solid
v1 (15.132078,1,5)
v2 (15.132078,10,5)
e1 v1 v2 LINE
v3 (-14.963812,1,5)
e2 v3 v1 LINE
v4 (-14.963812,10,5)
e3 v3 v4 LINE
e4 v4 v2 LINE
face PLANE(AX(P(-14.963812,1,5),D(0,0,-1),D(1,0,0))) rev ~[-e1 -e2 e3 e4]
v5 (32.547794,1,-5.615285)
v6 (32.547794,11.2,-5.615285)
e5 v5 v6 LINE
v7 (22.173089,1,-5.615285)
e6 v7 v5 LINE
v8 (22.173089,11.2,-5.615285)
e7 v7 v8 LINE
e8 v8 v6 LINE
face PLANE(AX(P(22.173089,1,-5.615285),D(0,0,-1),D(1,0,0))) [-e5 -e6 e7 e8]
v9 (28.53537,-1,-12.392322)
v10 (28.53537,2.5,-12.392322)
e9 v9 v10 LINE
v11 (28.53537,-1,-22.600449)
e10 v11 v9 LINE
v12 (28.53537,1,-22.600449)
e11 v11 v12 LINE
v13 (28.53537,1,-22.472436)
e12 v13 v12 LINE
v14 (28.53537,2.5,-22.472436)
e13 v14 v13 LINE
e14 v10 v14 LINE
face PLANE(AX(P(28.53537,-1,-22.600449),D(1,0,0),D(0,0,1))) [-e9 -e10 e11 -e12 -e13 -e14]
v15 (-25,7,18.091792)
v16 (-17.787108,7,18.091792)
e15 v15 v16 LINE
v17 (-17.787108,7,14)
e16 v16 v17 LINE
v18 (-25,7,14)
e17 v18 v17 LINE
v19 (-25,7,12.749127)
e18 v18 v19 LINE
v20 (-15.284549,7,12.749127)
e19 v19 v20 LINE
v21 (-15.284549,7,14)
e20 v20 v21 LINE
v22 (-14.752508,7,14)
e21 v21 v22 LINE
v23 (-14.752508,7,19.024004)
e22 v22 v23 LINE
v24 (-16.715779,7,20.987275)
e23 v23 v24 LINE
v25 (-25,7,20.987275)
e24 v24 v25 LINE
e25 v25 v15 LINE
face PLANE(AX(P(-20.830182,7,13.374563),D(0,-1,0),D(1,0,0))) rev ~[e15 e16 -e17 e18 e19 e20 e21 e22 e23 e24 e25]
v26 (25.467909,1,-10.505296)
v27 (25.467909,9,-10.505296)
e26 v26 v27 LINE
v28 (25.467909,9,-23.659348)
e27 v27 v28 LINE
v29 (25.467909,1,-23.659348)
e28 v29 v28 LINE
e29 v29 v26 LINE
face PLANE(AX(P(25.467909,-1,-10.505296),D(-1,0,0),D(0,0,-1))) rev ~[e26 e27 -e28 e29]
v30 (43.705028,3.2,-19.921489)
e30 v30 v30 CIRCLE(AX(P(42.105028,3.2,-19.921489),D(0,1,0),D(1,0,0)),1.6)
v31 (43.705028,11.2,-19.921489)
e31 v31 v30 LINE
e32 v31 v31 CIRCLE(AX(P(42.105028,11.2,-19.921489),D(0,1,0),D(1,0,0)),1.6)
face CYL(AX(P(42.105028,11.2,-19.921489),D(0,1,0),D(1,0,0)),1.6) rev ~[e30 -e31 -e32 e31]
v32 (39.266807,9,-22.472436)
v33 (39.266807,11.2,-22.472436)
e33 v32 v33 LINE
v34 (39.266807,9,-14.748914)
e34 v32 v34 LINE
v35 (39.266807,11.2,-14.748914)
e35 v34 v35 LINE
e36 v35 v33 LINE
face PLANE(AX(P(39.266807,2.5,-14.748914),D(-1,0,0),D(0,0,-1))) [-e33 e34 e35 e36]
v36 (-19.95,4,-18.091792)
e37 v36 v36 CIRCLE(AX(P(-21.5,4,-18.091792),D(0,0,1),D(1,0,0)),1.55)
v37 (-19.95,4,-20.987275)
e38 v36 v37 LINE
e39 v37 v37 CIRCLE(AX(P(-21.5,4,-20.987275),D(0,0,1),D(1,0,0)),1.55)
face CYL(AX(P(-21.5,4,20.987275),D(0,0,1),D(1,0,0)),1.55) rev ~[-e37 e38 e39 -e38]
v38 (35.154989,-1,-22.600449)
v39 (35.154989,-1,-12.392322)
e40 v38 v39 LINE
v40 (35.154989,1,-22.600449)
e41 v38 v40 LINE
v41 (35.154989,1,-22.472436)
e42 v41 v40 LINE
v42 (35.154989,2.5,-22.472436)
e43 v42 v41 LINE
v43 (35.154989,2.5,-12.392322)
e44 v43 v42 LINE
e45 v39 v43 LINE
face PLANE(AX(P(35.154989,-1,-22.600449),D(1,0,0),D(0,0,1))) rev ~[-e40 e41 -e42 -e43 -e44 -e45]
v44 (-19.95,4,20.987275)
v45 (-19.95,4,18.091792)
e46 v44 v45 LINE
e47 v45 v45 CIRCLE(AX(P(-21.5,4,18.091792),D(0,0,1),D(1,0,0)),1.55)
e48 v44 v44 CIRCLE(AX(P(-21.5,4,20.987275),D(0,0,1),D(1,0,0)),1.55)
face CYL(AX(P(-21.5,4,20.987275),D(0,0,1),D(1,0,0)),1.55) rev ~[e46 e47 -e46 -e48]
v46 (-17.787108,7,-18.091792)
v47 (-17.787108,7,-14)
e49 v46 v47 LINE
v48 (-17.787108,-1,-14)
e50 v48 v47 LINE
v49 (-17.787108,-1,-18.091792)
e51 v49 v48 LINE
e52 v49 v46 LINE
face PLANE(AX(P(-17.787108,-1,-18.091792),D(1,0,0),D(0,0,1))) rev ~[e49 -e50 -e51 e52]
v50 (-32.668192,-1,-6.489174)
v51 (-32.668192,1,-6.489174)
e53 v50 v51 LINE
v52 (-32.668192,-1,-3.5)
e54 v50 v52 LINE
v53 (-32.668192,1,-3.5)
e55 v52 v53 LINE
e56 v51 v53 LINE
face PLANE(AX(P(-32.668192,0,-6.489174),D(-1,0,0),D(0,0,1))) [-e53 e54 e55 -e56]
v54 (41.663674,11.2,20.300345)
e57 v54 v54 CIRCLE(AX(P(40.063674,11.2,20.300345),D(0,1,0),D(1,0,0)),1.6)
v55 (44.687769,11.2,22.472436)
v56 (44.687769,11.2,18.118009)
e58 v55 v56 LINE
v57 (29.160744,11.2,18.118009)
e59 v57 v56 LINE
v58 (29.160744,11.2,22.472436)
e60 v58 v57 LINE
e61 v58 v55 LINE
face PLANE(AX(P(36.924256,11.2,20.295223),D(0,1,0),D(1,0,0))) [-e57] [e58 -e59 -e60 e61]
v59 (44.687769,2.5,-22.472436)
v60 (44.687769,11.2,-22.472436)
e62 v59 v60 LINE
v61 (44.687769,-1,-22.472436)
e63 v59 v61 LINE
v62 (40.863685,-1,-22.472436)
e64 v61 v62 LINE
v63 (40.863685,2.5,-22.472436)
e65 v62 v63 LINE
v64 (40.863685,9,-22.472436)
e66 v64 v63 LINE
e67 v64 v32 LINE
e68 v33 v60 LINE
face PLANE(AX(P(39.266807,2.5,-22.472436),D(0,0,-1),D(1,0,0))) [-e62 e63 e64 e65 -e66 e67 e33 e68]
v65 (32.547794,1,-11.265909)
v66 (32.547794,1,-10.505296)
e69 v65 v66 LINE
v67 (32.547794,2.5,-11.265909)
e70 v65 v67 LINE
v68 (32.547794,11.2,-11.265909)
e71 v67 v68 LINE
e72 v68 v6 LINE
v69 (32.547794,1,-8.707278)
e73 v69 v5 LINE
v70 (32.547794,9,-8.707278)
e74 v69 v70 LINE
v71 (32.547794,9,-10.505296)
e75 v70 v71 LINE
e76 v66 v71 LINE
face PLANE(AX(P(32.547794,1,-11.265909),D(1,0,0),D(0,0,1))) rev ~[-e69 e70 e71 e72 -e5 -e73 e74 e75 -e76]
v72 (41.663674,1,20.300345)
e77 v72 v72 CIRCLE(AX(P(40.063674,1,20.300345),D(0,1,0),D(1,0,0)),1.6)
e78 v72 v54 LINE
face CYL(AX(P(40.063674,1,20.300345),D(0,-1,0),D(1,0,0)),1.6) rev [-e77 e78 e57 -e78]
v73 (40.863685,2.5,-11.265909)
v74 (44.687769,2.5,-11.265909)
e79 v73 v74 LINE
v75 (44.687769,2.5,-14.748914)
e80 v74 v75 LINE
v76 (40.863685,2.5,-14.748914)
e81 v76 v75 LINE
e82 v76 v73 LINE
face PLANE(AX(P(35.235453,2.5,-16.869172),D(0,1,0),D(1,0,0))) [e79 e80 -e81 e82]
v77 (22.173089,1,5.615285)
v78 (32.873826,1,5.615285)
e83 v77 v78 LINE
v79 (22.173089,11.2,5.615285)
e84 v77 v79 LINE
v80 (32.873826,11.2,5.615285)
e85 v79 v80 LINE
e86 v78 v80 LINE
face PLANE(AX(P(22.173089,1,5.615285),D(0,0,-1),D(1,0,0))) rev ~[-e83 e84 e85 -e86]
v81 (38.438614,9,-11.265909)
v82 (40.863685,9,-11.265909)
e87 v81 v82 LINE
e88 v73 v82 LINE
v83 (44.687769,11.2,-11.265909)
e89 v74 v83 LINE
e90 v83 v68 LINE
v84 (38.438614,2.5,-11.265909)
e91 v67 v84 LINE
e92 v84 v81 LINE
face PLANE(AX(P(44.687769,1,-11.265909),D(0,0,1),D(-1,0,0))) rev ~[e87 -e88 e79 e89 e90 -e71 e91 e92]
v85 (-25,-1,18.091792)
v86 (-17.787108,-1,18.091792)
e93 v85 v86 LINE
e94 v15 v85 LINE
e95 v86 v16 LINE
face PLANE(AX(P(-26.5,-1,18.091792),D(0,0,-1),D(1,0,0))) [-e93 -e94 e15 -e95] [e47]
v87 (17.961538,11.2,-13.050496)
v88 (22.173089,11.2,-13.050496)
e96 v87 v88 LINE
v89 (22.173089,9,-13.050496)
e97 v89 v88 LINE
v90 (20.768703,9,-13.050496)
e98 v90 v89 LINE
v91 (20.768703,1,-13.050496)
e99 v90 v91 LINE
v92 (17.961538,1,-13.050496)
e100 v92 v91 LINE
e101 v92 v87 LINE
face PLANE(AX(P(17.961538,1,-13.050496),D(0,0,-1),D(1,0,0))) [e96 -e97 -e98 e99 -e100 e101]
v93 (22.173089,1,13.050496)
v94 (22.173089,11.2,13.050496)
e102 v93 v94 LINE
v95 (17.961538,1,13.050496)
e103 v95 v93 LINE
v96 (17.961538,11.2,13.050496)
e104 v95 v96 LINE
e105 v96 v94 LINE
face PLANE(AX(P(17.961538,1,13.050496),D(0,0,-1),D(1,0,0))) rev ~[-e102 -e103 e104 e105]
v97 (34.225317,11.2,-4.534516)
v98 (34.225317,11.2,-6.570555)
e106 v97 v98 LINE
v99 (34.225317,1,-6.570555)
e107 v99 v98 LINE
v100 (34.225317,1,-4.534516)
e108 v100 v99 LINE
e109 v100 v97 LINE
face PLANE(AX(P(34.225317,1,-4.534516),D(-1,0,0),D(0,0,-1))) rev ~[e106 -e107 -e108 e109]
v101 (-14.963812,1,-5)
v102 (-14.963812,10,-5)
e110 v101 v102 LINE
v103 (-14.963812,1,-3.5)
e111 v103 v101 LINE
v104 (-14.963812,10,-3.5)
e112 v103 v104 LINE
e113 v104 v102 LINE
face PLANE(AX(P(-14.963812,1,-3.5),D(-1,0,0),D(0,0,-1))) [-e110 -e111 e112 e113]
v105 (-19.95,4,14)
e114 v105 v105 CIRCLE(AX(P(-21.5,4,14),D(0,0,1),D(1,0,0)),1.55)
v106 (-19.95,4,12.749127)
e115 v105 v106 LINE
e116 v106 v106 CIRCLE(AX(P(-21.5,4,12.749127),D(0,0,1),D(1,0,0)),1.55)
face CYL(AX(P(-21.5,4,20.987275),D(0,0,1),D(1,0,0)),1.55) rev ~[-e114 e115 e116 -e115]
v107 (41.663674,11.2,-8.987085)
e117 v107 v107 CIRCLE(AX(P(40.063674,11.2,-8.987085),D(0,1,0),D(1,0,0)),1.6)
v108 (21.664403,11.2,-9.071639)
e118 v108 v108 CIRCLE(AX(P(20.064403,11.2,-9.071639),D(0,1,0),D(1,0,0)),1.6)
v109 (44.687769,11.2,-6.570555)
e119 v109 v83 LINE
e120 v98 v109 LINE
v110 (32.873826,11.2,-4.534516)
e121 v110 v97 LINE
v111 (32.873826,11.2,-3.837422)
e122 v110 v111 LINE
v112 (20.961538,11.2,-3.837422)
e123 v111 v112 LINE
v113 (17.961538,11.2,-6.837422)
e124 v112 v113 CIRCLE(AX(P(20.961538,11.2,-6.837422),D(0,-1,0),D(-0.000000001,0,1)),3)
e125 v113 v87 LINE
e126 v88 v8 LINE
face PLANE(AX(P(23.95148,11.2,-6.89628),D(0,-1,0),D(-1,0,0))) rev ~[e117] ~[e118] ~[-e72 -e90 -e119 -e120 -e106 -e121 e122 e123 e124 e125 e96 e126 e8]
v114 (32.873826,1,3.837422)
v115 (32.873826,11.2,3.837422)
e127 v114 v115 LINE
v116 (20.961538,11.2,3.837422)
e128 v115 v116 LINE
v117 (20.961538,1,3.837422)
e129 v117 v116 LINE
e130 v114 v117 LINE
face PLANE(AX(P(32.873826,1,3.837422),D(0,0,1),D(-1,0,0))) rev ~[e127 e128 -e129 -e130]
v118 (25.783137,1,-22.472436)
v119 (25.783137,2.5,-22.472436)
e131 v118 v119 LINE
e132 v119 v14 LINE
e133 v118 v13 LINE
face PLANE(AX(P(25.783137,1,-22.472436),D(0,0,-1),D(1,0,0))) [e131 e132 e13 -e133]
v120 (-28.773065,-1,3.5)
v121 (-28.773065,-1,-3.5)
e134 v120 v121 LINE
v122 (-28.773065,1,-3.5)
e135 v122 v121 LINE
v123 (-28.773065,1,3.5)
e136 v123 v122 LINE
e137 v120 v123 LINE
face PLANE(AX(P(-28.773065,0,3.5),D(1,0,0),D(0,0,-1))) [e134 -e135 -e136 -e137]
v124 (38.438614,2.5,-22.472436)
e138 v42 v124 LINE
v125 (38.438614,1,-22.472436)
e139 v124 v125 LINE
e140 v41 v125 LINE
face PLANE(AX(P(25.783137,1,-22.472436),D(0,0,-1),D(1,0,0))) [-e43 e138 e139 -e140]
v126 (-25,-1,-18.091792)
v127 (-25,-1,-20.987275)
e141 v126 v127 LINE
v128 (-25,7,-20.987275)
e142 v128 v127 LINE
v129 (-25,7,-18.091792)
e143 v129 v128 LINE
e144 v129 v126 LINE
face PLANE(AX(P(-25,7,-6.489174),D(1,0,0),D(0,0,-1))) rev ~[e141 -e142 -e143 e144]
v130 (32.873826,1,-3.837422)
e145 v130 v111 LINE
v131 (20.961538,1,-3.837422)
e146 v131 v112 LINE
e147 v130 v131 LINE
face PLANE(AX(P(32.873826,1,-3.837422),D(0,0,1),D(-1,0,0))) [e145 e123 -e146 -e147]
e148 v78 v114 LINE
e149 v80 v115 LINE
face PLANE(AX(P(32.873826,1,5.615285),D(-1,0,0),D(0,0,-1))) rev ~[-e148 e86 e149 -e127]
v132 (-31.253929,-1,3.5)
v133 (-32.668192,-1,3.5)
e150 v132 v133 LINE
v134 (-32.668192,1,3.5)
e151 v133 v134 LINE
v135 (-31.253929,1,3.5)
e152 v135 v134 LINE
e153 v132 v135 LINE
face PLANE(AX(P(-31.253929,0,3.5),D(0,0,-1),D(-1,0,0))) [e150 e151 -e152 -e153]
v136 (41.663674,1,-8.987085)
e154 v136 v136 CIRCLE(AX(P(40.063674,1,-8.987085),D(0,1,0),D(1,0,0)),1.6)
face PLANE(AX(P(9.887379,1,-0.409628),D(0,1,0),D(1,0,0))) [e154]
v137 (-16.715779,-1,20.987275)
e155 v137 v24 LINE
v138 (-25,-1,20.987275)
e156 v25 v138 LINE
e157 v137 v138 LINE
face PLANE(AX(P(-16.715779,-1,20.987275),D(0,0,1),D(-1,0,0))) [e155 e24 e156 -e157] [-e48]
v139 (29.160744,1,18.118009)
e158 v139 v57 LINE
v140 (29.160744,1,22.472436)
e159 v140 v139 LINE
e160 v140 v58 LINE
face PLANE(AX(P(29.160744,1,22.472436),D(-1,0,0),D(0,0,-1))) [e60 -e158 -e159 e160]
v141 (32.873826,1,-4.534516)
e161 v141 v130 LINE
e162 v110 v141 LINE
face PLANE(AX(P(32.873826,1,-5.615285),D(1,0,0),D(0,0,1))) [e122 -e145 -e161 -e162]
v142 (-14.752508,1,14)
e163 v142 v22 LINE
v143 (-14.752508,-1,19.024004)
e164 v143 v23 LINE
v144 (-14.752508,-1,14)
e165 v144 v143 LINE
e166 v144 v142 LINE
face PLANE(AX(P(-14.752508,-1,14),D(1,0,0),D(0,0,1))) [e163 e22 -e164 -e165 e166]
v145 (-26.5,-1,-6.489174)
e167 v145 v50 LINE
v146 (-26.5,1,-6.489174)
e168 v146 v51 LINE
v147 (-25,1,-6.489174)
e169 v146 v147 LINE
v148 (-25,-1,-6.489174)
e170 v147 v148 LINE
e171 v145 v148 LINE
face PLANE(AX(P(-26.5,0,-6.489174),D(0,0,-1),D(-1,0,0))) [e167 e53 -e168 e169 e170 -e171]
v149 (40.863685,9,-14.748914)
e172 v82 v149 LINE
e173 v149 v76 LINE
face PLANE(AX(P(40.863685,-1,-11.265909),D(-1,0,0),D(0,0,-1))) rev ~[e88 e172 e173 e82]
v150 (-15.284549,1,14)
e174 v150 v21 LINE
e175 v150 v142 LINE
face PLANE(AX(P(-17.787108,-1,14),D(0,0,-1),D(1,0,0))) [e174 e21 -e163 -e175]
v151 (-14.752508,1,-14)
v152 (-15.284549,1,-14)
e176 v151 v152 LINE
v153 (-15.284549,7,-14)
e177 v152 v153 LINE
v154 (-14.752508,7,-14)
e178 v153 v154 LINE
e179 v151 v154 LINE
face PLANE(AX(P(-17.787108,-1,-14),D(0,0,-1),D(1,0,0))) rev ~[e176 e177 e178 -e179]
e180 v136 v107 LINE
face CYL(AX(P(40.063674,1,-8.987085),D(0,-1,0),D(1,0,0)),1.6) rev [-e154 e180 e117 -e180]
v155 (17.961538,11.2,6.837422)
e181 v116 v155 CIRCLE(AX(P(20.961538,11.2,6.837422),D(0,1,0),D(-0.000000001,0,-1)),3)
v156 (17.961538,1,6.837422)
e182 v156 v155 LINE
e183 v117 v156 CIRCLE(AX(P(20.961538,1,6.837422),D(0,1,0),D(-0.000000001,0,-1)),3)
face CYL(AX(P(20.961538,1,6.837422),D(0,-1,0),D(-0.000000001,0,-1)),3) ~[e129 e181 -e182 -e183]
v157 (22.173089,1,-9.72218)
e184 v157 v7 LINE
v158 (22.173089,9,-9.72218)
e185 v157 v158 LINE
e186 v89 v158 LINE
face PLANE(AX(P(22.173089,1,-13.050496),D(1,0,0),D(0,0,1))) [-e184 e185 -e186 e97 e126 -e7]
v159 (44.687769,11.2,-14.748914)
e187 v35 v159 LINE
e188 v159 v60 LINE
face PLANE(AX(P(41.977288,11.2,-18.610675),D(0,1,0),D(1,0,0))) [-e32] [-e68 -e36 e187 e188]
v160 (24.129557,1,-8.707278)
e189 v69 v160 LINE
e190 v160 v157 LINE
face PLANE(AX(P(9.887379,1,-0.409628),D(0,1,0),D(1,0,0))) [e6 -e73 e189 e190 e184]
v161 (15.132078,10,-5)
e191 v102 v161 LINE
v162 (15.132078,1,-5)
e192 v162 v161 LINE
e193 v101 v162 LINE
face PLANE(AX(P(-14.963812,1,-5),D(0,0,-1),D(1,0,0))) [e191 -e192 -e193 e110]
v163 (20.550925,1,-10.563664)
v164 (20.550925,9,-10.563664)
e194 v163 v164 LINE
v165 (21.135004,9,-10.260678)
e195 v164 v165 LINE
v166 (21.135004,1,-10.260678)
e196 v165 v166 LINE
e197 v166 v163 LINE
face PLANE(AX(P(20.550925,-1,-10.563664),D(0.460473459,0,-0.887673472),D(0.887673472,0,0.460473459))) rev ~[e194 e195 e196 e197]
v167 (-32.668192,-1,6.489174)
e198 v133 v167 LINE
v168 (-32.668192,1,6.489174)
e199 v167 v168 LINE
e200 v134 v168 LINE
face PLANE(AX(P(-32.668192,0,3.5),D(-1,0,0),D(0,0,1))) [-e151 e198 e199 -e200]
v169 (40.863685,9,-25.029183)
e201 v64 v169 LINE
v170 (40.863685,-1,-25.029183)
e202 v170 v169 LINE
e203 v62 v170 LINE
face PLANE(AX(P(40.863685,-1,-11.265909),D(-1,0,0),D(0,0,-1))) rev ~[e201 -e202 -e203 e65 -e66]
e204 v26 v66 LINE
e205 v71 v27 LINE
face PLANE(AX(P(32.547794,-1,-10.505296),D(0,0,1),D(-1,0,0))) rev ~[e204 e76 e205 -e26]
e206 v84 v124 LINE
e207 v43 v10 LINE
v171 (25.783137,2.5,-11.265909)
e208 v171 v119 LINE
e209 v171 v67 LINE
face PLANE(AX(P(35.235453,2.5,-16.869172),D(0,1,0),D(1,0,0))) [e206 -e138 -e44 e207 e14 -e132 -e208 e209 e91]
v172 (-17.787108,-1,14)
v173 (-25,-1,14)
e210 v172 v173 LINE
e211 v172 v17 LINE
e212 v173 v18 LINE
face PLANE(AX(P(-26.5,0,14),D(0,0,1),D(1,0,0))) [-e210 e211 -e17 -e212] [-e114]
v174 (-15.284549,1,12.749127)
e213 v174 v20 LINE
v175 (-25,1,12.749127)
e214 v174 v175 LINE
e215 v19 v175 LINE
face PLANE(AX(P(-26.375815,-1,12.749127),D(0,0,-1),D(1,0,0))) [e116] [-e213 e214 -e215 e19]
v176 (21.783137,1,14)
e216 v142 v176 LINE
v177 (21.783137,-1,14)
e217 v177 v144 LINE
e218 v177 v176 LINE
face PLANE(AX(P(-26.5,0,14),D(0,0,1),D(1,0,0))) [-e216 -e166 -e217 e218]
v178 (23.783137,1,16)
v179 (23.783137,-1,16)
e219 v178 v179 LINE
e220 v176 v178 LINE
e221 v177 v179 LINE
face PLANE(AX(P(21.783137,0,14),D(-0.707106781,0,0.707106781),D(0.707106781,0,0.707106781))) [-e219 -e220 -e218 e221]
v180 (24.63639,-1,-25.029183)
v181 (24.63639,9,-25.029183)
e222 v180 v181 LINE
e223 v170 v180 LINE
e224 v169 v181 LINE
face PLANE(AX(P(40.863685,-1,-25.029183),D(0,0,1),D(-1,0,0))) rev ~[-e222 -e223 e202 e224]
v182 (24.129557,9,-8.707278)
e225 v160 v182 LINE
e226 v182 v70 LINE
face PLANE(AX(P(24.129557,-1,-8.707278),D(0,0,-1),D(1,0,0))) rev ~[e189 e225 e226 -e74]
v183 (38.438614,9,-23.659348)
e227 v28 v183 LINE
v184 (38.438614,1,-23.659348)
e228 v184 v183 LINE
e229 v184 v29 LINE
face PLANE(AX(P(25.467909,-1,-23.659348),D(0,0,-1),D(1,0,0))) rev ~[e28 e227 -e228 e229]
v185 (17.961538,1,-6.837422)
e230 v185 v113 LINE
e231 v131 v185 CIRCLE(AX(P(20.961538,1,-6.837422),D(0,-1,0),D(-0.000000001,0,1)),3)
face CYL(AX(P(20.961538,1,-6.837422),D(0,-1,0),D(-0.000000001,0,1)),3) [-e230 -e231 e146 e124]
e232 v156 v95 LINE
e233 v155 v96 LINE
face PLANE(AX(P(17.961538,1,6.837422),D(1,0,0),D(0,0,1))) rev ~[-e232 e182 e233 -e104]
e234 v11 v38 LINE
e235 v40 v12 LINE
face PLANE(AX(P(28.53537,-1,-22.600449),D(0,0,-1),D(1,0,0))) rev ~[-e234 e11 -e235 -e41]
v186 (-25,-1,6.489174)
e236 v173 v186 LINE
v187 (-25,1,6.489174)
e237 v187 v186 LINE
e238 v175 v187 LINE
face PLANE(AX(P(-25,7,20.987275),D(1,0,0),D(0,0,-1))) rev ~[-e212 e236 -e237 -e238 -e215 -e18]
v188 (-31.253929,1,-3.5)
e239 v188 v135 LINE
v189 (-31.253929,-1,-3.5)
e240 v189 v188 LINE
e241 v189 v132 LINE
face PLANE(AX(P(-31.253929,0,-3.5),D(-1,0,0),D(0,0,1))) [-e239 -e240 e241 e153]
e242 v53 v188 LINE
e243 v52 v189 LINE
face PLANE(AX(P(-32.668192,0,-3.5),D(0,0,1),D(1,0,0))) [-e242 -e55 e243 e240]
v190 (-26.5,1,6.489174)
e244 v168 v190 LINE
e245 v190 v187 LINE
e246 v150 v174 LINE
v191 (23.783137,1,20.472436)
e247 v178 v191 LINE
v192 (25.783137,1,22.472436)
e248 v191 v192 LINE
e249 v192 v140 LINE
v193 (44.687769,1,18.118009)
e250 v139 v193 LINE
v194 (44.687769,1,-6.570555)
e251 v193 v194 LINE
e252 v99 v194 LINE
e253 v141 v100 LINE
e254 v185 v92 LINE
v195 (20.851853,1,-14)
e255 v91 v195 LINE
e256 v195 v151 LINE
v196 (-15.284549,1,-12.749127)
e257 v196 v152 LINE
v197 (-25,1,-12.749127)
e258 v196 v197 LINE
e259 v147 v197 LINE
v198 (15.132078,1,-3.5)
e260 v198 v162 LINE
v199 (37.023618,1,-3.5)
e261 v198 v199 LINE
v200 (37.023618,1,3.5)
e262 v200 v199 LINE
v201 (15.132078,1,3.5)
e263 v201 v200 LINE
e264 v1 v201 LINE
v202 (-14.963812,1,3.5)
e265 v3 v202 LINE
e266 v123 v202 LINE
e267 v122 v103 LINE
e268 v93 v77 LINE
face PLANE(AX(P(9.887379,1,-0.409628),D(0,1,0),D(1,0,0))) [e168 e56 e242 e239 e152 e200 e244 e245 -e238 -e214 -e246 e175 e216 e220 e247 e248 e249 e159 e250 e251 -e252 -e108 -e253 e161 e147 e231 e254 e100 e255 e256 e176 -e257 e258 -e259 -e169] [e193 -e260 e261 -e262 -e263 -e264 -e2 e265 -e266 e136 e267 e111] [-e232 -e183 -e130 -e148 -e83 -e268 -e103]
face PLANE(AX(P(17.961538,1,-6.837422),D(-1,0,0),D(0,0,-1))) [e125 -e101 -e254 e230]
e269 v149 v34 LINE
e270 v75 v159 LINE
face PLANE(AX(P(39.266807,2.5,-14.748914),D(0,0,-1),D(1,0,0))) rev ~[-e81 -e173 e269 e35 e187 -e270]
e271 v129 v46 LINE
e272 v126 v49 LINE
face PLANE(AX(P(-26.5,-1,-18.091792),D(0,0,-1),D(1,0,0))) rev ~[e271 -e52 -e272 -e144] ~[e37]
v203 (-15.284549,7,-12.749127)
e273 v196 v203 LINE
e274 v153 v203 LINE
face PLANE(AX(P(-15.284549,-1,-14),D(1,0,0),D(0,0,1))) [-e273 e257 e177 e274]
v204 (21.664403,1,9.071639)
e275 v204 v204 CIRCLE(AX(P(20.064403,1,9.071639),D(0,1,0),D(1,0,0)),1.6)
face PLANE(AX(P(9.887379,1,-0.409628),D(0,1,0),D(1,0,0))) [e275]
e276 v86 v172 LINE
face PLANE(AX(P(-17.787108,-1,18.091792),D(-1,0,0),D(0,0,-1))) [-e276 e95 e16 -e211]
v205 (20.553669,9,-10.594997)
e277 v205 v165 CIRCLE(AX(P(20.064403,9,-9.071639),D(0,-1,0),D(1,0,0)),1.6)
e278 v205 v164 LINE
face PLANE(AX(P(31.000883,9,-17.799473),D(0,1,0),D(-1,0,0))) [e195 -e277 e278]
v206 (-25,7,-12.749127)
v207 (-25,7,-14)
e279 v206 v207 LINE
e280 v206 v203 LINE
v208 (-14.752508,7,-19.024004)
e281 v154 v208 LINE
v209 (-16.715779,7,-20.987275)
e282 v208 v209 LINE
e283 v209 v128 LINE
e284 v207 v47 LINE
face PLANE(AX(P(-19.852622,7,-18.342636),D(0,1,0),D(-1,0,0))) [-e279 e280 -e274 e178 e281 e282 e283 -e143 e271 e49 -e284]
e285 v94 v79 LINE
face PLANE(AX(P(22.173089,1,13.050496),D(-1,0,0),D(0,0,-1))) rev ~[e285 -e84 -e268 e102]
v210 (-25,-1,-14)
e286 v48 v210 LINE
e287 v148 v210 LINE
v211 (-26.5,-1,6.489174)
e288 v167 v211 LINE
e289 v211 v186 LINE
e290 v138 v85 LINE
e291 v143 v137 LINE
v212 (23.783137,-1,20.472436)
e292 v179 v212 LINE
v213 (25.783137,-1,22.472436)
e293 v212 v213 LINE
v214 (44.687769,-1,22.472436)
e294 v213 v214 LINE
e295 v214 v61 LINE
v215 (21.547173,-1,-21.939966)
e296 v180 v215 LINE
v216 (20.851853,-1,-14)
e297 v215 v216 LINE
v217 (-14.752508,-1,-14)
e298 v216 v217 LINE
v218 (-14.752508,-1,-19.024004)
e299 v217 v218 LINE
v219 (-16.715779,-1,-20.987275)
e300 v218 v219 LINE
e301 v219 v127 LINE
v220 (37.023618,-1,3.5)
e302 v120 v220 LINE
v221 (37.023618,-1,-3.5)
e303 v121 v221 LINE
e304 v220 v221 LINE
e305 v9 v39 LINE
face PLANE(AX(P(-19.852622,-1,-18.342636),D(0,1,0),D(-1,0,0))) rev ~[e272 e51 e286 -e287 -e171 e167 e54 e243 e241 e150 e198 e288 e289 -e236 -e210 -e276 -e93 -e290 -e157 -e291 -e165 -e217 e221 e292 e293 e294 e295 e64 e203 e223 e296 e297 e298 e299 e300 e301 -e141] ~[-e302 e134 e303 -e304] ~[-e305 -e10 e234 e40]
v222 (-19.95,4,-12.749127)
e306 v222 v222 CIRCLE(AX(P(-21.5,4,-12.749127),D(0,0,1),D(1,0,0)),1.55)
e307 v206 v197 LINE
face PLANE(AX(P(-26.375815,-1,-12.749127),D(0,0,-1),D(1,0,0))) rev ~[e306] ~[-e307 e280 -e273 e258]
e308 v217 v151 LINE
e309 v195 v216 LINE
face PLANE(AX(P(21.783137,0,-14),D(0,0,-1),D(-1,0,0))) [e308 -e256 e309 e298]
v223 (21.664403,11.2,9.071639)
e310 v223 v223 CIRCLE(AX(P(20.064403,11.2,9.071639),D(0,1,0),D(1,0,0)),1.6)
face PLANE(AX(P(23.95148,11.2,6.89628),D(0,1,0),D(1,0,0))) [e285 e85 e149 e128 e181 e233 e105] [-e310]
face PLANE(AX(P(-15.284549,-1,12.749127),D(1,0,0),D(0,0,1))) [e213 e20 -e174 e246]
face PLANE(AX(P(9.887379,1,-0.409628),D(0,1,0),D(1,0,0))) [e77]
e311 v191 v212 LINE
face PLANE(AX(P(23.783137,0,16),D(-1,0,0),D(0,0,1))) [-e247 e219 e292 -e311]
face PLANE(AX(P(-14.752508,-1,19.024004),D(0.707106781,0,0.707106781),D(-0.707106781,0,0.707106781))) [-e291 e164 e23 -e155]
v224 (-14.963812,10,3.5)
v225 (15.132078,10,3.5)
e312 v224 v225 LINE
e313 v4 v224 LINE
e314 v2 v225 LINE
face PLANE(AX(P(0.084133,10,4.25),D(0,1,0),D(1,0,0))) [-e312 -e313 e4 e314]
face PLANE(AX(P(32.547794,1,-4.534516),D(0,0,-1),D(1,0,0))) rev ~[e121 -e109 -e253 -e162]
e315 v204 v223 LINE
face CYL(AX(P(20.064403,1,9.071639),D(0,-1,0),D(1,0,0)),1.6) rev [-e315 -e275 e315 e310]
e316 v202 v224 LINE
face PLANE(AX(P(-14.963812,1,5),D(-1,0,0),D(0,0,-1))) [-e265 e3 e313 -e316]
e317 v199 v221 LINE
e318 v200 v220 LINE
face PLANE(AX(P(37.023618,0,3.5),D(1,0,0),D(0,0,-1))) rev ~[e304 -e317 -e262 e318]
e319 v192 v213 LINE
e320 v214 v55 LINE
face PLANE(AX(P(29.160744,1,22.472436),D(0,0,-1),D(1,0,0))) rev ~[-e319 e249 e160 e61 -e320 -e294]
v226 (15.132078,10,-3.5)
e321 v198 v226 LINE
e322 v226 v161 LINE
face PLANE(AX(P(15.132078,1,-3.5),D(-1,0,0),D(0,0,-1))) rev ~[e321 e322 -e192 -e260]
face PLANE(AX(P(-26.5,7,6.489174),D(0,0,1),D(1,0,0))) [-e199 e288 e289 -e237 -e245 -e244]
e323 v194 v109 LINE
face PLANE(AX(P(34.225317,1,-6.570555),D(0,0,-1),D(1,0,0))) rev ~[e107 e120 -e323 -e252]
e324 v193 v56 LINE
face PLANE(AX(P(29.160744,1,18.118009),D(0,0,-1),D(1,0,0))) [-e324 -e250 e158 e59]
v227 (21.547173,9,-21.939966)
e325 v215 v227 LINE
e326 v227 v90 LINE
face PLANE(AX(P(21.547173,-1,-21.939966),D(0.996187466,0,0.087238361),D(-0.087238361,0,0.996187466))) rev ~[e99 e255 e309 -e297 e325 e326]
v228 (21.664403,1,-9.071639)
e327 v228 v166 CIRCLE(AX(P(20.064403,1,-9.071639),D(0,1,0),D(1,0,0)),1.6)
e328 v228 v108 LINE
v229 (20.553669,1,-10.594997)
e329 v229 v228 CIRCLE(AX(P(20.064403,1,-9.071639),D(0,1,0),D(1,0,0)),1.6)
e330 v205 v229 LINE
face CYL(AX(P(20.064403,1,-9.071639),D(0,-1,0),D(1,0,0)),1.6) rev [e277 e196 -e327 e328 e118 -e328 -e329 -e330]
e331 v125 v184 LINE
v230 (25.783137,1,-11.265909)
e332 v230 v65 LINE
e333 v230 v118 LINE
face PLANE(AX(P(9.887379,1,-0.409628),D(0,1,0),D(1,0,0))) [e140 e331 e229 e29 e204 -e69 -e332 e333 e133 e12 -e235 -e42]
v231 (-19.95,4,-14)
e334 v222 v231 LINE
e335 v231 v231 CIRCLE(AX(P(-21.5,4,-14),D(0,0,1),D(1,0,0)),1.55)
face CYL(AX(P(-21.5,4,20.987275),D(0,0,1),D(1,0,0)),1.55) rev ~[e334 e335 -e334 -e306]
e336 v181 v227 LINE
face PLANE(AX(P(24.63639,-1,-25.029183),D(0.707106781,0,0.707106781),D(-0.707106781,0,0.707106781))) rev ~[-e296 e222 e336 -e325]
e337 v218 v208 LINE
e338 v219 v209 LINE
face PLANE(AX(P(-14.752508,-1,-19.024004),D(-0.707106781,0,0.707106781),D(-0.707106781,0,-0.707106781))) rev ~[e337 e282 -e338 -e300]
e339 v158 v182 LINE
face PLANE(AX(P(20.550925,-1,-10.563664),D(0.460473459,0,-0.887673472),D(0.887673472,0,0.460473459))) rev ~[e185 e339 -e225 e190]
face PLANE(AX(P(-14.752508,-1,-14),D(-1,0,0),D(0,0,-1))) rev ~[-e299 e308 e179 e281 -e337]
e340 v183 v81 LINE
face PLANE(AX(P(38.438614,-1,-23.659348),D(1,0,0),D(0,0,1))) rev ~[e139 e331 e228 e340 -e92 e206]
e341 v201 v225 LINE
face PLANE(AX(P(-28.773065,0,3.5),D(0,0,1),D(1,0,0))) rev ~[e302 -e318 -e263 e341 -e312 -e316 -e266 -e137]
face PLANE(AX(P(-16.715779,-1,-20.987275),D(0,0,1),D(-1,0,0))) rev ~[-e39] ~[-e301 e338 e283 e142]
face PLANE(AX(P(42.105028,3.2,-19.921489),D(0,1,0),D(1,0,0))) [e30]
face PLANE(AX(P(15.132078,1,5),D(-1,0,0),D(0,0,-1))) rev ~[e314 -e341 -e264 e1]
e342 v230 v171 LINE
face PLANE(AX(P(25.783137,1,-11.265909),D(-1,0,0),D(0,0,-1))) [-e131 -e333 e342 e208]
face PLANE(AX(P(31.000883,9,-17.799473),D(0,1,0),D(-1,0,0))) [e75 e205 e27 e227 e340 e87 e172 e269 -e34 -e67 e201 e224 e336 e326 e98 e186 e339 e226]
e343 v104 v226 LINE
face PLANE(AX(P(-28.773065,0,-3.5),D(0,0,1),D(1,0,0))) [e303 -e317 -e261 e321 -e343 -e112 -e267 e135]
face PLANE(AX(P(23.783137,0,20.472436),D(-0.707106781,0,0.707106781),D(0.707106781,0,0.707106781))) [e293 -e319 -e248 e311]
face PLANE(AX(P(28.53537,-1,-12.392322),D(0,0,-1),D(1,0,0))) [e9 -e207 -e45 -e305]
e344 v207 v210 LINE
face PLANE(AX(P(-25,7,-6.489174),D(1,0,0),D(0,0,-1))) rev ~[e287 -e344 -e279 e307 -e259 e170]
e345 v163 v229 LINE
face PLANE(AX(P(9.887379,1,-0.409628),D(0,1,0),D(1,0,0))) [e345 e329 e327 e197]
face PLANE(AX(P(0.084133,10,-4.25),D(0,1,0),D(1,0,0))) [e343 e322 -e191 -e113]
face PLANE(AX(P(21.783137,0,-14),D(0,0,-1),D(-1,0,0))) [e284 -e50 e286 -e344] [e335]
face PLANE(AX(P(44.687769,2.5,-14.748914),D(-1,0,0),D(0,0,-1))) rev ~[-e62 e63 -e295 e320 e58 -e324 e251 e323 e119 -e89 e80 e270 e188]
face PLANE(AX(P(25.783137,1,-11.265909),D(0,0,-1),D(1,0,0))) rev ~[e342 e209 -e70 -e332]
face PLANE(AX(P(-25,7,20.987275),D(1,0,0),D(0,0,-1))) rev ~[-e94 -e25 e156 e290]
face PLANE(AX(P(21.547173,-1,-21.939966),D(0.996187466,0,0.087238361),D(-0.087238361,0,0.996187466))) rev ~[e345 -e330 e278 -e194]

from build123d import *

# Parameters (mm, degrees)
SKETCH_1_W          = 65.796682854
SKETCH_1_H          = 7
EXTRUDE_1_DEPTH     = 1
SKETCH_1_3_W        = 65.796682854
SKETCH_1_3_H        = 7
EXTRUDE_4_DEPTH     = 1
SKETCH_2_R          = 1.6
SKETCH_2_W          = 15.527024866
SKETCH_2_H          = 4.354426868
EXTRUDE_5_DEPTH     = 10.2
SKETCH_3_W          = 11.091265895
SKETCH_3_H          = 1.250873396
EXTRUDE_6_DEPTH     = 8
EXTRUDE_7_DEPTH     = 8
SKETCH_5_R          = 1.55
CUT_EXTRUDE_1_DEPTH = 46.168181955
SKETCH_6_W          = 30.095890068
SKETCH_6_H          = 1.5
EXTRUDE_8_DEPTH     = 9
SKETCH_9_R          = 1.6
EXTRUDE_9_DEPTH     = 10.2
SKETCH_10_W         = 18.90463159
SKETCH_10_H         = 11.206527224
EXTRUDE_10_DEPTH    = 1.5
EXTRUDE_11_DEPTH    = 10
SKETCH_12_W         = 6.619618948
SKETCH_12_H         = 10.208127021
CUT_EXTRUDE_2_DEPTH = 4
SKETCH_13_W         = 5.420961308
SKETCH_13_H         = 7.723522143
EXTRUDE_12_DEPTH    = 8.7
SKETCH_14_R         = 1.6
CUT_EXTRUDE_3_DEPTH = 8
SKETCH_15_W         = 1.5
SKETCH_15_H         = 14.498100707
CUT_EXTRUDE_4_DEPTH = 9


with BuildPart() as part:
    # 草图1 → 凸台-拉伸1 (new body)
    with BuildSketch(Plane(origin=(0, 0, 0), x_dir=(1, 0, 0), z_dir=(0, 1, 0))):
        Polygon((21.783137071, 14), (-26.5, 14), (-26.5, 6.489174383), (-32.668192158, 6.489174383), (-32.668192158, 4.906407062), (-32.668192158, 3.5), (-31.253928934, 3.5), (-31.253928934, -3.5), (-32.668192158, -3.5), (-32.668192158, -4.906407062), (-32.668192158, -6.489174383), (-26.5, -6.489174383), (-26.5, -14), (21.783137071, -14), (23.783137071, -16), (23.783137071, -20.472436035), (25.783137071, -22.472436035), (44.687768661, -22.472436035), (44.687768661, -14), (44.687768661, 14), (44.687768661, 22.472436035), (39.670641652, 22.472436035), (39.670641652, 24.180906865), (37.700847745, 24.180906865), (25.783137071, 24.180906865), (23.783137071, 21.491786563), (23.783137071, 20.472436035), (23.783137071, 16), align=None)
        with Locations((4.125276897, 0)):
            Rectangle(SKETCH_1_W, SKETCH_1_H, mode=Mode.SUBTRACT)
    extrude(amount=EXTRUDE_1_DEPTH)

    # 草图1<3> → 凸台-拉伸4 (add)
    with BuildSketch(Plane(origin=(0, 0, 0), x_dir=(1, 0, 0), z_dir=(0, 1, 0))):
        Polygon((21.783137071, 14), (-26.5, 14), (-26.5, 6.489174383), (-32.668192158, 6.489174383), (-32.668192158, 4.906407062), (-32.668192158, 3.5), (-31.253928934, 3.5), (-31.253928934, -3.5), (-32.668192158, -3.5), (-32.668192158, -4.906407062), (-32.668192158, -6.489174383), (-26.5, -6.489174383), (-26.5, -14), (21.783137071, -14), (23.783137071, -16), (23.783137071, -20.472436035), (25.783137071, -22.472436035), (44.687768661, -22.472436035), (44.687768661, -14), (44.687768661, 14), (44.687768661, 22.472436035), (39.670641652, 22.472436035), (39.670641652, 24.180906865), (37.700847745, 24.180906865), (25.783137071, 24.180906865), (23.783137071, 21.491786563), (23.783137071, 20.472436035), (23.783137071, 16), align=None)
        with Locations((4.125276897, 0)):
            Rectangle(SKETCH_1_3_W, SKETCH_1_3_H, mode=Mode.SUBTRACT)
    extrude(amount=-EXTRUDE_4_DEPTH)

    # 草图2 → 凸台-拉伸5 (add)
    with BuildSketch(Plane(origin=(0, 1, 0), x_dir=(1, 0, 0), z_dir=(0, 1, 0))):
        with BuildLine():
            Line((32.873825551, -3.837422495), (20.961538439, -3.837422495))
            ThreePointArc((20.961538439, -3.837422495), (18.840218096, -4.716102152), (17.961538439, -6.837422495))
            Line((17.961538439, -6.837422495), (17.961538439, -9.071638955))
            Line((17.961538439, -9.071638955), (17.961538439, -13.050495751))
            Line((17.961538439, -13.050495751), (22.173089039, -13.050495751))
            Line((22.173089039, -13.050495751), (22.173089039, -9.071638955))
            Line((22.173089039, -9.071638955), (22.173089039, -5.615284864))
            Line((22.173089039, -5.615284864), (32.873825551, -5.615284864))
            Line((32.873825551, -5.615284864), (32.873825551, -3.837422495))
        make_face()
        with Locations((20.064403013, -9.071638955)):
            Circle(SKETCH_2_R, mode=Mode.SUBTRACT)
        Polygon((34.225317019, 6.570554911), (44.687768661, 6.570554911), (44.687768661, 11.265908811), (32.547793792, 11.265908811), (32.547793792, 4.534516494), (34.225317019, 4.534516494), align=None)
        with Locations((40.063673511, 8.987084634)):
            Circle(SKETCH_2_R, mode=Mode.SUBTRACT)
        with Locations((36.924256228, -20.295222601)):
            Rectangle(SKETCH_2_W, SKETCH_2_H)
        with Locations((40.063673511, -20.300345076)):
            Circle(SKETCH_2_R, mode=Mode.SUBTRACT)
    extrude(amount=EXTRUDE_5_DEPTH)

    # 草图3 → 凸台-拉伸6 (add)
    with BuildSketch(Plane.XZ.offset(1)):
        with Locations((-20.830181881, -13.374563302)):
            Rectangle(SKETCH_3_W, SKETCH_3_H)
        with Locations((-20.830181881, 13.374563302)):
            Rectangle(SKETCH_3_W, SKETCH_3_H)
    extrude(amount=-EXTRUDE_6_DEPTH)

    # 草图4 → 凸台-拉伸7 (add)
    with BuildSketch(Plane.XZ.offset(1)):
        Polygon((-14.752508247, -14), (-14.752508247, -19.024004183), (-16.715779154, -20.98727509), (-26.5, -20.98727509), (-26.5, -18.091791799), (-17.787107971, -18.091791799), (-17.787107971, -14), align=None)
        Polygon((-26.5, 20.98727509), (-26.5, 18.091791799), (-17.787107971, 18.091791799), (-17.787107971, 14), (-14.752508247, 14), (-14.752508247, 19.024004183), (-16.715779154, 20.98727509), align=None)
    extrude(amount=-EXTRUDE_7_DEPTH)

    # 草图5 → 切除-拉伸1 (cut, through all)
    with BuildSketch(Plane.XY.offset(20.98727509)):
        with Locations((-21.5, 4)):
            Circle(SKETCH_5_R)
    extrude(amount=-CUT_EXTRUDE_1_DEPTH, mode=Mode.SUBTRACT)

    # 草图6 → 凸台-拉伸8 (add)
    with BuildSketch(Plane(origin=(0, 1, 0), x_dir=(1, 0, 0), z_dir=(0, 1, 0))):
        with Locations((0.084132632, 4.25)):
            Rectangle(SKETCH_6_W, SKETCH_6_H)
        with Locations((0.084132632, -4.25)):
            Rectangle(SKETCH_6_W, SKETCH_6_H)
    extrude(amount=EXTRUDE_8_DEPTH)

    # 草图9 → 凸台-拉伸9 (add)
    with BuildSketch(Plane(origin=(0, 1, 0), x_dir=(1, 0, 0), z_dir=(0, 1, 0))):
        with BuildLine():
            Line((17.961538439, 6.837422495), (17.961538439, 13.050495751))
            Line((17.961538439, 13.050495751), (22.173089039, 13.050495751))
            Line((22.173089039, 13.050495751), (22.173089039, 5.615284864))
            Line((22.173089039, 5.615284864), (32.873825551, 5.615284864))
            Line((32.873825551, 5.615284864), (32.873825551, 3.837422495))
            Line((32.873825551, 3.837422495), (20.961538439, 3.837422495))
            ThreePointArc((20.961538439, 3.837422495), (18.840218096, 4.716102152), (17.961538439, 6.837422495))
        make_face()
        with Locations((20.064403013, 9.071638955)):
            Circle(SKETCH_9_R, mode=Mode.SUBTRACT)
    extrude(amount=EXTRUDE_9_DEPTH)

    # 草图10 → 凸台-拉伸10 (add)
    with BuildSketch(Plane(origin=(0, 1, 0), x_dir=(1, 0, 0), z_dir=(0, 1, 0))):
        with Locations((35.235452866, 16.869172423)):
            Rectangle(SKETCH_10_W, SKETCH_10_H)
    extrude(amount=EXTRUDE_10_DEPTH)

    # 草图11 → 凸台-拉伸11 (add)
    with BuildSketch(Plane.XZ.offset(1)):
        Polygon((32.547793792, -10.505295771), (25.467909356, -10.505295771), (25.467909356, -23.65934808), (38.4386145, -23.65934808), (38.4386145, -11.265908811), (40.863684521, -11.265908811), (40.863684521, -25.029182917), (24.636389842, -25.029182917), (21.547173342, -21.939966418), (20.550925149, -10.56366418), (24.129557088, -8.707277705), (32.547793792, -8.707277705), align=None)
    extrude(amount=-EXTRUDE_11_DEPTH)

    # 草图12 → 切除-拉伸2 (cut)
    with BuildSketch(Plane.XZ.offset(1)):
        with Locations((31.84517955, -17.496385448)):
            Rectangle(SKETCH_12_W, SKETCH_12_H)
    extrude(amount=-CUT_EXTRUDE_2_DEPTH, mode=Mode.SUBTRACT)

    # 草图13 → 凸台-拉伸12 (add)
    with BuildSketch(Plane(origin=(0, 2.5, 0), x_dir=(1, 0, 0), z_dir=(0, 1, 0))):
        with Locations((41.977288007, 18.610674964)):
            Rectangle(SKETCH_13_W, SKETCH_13_H)
    extrude(amount=EXTRUDE_12_DEPTH)

    # 草图14 → 切除-拉伸3 (cut)
    with BuildSketch(Plane(origin=(0, 11.2, 0), x_dir=(1, 0, 0), z_dir=(0, 1, 0))):
        with Locations((42.105027807, 19.921488723)):
            Circle(SKETCH_14_R)
    extrude(amount=-CUT_EXTRUDE_3_DEPTH, mode=Mode.SUBTRACT)

    # 草图15 → 切除-拉伸4 (cut, through all)
    with BuildSketch(Plane(origin=(0, 7, 0), x_dir=(1, 0, 0), z_dir=(0, 1, 0))):
        with Locations((-25.75, 13.738224737)):
            Rectangle(SKETCH_15_W, SKETCH_15_H)
        with Locations((-25.75, -13.738224737)):
            Rectangle(SKETCH_15_W, SKETCH_15_H)
    extrude(amount=-CUT_EXTRUDE_4_DEPTH, mode=Mode.SUBTRACT)


solid = part.part
